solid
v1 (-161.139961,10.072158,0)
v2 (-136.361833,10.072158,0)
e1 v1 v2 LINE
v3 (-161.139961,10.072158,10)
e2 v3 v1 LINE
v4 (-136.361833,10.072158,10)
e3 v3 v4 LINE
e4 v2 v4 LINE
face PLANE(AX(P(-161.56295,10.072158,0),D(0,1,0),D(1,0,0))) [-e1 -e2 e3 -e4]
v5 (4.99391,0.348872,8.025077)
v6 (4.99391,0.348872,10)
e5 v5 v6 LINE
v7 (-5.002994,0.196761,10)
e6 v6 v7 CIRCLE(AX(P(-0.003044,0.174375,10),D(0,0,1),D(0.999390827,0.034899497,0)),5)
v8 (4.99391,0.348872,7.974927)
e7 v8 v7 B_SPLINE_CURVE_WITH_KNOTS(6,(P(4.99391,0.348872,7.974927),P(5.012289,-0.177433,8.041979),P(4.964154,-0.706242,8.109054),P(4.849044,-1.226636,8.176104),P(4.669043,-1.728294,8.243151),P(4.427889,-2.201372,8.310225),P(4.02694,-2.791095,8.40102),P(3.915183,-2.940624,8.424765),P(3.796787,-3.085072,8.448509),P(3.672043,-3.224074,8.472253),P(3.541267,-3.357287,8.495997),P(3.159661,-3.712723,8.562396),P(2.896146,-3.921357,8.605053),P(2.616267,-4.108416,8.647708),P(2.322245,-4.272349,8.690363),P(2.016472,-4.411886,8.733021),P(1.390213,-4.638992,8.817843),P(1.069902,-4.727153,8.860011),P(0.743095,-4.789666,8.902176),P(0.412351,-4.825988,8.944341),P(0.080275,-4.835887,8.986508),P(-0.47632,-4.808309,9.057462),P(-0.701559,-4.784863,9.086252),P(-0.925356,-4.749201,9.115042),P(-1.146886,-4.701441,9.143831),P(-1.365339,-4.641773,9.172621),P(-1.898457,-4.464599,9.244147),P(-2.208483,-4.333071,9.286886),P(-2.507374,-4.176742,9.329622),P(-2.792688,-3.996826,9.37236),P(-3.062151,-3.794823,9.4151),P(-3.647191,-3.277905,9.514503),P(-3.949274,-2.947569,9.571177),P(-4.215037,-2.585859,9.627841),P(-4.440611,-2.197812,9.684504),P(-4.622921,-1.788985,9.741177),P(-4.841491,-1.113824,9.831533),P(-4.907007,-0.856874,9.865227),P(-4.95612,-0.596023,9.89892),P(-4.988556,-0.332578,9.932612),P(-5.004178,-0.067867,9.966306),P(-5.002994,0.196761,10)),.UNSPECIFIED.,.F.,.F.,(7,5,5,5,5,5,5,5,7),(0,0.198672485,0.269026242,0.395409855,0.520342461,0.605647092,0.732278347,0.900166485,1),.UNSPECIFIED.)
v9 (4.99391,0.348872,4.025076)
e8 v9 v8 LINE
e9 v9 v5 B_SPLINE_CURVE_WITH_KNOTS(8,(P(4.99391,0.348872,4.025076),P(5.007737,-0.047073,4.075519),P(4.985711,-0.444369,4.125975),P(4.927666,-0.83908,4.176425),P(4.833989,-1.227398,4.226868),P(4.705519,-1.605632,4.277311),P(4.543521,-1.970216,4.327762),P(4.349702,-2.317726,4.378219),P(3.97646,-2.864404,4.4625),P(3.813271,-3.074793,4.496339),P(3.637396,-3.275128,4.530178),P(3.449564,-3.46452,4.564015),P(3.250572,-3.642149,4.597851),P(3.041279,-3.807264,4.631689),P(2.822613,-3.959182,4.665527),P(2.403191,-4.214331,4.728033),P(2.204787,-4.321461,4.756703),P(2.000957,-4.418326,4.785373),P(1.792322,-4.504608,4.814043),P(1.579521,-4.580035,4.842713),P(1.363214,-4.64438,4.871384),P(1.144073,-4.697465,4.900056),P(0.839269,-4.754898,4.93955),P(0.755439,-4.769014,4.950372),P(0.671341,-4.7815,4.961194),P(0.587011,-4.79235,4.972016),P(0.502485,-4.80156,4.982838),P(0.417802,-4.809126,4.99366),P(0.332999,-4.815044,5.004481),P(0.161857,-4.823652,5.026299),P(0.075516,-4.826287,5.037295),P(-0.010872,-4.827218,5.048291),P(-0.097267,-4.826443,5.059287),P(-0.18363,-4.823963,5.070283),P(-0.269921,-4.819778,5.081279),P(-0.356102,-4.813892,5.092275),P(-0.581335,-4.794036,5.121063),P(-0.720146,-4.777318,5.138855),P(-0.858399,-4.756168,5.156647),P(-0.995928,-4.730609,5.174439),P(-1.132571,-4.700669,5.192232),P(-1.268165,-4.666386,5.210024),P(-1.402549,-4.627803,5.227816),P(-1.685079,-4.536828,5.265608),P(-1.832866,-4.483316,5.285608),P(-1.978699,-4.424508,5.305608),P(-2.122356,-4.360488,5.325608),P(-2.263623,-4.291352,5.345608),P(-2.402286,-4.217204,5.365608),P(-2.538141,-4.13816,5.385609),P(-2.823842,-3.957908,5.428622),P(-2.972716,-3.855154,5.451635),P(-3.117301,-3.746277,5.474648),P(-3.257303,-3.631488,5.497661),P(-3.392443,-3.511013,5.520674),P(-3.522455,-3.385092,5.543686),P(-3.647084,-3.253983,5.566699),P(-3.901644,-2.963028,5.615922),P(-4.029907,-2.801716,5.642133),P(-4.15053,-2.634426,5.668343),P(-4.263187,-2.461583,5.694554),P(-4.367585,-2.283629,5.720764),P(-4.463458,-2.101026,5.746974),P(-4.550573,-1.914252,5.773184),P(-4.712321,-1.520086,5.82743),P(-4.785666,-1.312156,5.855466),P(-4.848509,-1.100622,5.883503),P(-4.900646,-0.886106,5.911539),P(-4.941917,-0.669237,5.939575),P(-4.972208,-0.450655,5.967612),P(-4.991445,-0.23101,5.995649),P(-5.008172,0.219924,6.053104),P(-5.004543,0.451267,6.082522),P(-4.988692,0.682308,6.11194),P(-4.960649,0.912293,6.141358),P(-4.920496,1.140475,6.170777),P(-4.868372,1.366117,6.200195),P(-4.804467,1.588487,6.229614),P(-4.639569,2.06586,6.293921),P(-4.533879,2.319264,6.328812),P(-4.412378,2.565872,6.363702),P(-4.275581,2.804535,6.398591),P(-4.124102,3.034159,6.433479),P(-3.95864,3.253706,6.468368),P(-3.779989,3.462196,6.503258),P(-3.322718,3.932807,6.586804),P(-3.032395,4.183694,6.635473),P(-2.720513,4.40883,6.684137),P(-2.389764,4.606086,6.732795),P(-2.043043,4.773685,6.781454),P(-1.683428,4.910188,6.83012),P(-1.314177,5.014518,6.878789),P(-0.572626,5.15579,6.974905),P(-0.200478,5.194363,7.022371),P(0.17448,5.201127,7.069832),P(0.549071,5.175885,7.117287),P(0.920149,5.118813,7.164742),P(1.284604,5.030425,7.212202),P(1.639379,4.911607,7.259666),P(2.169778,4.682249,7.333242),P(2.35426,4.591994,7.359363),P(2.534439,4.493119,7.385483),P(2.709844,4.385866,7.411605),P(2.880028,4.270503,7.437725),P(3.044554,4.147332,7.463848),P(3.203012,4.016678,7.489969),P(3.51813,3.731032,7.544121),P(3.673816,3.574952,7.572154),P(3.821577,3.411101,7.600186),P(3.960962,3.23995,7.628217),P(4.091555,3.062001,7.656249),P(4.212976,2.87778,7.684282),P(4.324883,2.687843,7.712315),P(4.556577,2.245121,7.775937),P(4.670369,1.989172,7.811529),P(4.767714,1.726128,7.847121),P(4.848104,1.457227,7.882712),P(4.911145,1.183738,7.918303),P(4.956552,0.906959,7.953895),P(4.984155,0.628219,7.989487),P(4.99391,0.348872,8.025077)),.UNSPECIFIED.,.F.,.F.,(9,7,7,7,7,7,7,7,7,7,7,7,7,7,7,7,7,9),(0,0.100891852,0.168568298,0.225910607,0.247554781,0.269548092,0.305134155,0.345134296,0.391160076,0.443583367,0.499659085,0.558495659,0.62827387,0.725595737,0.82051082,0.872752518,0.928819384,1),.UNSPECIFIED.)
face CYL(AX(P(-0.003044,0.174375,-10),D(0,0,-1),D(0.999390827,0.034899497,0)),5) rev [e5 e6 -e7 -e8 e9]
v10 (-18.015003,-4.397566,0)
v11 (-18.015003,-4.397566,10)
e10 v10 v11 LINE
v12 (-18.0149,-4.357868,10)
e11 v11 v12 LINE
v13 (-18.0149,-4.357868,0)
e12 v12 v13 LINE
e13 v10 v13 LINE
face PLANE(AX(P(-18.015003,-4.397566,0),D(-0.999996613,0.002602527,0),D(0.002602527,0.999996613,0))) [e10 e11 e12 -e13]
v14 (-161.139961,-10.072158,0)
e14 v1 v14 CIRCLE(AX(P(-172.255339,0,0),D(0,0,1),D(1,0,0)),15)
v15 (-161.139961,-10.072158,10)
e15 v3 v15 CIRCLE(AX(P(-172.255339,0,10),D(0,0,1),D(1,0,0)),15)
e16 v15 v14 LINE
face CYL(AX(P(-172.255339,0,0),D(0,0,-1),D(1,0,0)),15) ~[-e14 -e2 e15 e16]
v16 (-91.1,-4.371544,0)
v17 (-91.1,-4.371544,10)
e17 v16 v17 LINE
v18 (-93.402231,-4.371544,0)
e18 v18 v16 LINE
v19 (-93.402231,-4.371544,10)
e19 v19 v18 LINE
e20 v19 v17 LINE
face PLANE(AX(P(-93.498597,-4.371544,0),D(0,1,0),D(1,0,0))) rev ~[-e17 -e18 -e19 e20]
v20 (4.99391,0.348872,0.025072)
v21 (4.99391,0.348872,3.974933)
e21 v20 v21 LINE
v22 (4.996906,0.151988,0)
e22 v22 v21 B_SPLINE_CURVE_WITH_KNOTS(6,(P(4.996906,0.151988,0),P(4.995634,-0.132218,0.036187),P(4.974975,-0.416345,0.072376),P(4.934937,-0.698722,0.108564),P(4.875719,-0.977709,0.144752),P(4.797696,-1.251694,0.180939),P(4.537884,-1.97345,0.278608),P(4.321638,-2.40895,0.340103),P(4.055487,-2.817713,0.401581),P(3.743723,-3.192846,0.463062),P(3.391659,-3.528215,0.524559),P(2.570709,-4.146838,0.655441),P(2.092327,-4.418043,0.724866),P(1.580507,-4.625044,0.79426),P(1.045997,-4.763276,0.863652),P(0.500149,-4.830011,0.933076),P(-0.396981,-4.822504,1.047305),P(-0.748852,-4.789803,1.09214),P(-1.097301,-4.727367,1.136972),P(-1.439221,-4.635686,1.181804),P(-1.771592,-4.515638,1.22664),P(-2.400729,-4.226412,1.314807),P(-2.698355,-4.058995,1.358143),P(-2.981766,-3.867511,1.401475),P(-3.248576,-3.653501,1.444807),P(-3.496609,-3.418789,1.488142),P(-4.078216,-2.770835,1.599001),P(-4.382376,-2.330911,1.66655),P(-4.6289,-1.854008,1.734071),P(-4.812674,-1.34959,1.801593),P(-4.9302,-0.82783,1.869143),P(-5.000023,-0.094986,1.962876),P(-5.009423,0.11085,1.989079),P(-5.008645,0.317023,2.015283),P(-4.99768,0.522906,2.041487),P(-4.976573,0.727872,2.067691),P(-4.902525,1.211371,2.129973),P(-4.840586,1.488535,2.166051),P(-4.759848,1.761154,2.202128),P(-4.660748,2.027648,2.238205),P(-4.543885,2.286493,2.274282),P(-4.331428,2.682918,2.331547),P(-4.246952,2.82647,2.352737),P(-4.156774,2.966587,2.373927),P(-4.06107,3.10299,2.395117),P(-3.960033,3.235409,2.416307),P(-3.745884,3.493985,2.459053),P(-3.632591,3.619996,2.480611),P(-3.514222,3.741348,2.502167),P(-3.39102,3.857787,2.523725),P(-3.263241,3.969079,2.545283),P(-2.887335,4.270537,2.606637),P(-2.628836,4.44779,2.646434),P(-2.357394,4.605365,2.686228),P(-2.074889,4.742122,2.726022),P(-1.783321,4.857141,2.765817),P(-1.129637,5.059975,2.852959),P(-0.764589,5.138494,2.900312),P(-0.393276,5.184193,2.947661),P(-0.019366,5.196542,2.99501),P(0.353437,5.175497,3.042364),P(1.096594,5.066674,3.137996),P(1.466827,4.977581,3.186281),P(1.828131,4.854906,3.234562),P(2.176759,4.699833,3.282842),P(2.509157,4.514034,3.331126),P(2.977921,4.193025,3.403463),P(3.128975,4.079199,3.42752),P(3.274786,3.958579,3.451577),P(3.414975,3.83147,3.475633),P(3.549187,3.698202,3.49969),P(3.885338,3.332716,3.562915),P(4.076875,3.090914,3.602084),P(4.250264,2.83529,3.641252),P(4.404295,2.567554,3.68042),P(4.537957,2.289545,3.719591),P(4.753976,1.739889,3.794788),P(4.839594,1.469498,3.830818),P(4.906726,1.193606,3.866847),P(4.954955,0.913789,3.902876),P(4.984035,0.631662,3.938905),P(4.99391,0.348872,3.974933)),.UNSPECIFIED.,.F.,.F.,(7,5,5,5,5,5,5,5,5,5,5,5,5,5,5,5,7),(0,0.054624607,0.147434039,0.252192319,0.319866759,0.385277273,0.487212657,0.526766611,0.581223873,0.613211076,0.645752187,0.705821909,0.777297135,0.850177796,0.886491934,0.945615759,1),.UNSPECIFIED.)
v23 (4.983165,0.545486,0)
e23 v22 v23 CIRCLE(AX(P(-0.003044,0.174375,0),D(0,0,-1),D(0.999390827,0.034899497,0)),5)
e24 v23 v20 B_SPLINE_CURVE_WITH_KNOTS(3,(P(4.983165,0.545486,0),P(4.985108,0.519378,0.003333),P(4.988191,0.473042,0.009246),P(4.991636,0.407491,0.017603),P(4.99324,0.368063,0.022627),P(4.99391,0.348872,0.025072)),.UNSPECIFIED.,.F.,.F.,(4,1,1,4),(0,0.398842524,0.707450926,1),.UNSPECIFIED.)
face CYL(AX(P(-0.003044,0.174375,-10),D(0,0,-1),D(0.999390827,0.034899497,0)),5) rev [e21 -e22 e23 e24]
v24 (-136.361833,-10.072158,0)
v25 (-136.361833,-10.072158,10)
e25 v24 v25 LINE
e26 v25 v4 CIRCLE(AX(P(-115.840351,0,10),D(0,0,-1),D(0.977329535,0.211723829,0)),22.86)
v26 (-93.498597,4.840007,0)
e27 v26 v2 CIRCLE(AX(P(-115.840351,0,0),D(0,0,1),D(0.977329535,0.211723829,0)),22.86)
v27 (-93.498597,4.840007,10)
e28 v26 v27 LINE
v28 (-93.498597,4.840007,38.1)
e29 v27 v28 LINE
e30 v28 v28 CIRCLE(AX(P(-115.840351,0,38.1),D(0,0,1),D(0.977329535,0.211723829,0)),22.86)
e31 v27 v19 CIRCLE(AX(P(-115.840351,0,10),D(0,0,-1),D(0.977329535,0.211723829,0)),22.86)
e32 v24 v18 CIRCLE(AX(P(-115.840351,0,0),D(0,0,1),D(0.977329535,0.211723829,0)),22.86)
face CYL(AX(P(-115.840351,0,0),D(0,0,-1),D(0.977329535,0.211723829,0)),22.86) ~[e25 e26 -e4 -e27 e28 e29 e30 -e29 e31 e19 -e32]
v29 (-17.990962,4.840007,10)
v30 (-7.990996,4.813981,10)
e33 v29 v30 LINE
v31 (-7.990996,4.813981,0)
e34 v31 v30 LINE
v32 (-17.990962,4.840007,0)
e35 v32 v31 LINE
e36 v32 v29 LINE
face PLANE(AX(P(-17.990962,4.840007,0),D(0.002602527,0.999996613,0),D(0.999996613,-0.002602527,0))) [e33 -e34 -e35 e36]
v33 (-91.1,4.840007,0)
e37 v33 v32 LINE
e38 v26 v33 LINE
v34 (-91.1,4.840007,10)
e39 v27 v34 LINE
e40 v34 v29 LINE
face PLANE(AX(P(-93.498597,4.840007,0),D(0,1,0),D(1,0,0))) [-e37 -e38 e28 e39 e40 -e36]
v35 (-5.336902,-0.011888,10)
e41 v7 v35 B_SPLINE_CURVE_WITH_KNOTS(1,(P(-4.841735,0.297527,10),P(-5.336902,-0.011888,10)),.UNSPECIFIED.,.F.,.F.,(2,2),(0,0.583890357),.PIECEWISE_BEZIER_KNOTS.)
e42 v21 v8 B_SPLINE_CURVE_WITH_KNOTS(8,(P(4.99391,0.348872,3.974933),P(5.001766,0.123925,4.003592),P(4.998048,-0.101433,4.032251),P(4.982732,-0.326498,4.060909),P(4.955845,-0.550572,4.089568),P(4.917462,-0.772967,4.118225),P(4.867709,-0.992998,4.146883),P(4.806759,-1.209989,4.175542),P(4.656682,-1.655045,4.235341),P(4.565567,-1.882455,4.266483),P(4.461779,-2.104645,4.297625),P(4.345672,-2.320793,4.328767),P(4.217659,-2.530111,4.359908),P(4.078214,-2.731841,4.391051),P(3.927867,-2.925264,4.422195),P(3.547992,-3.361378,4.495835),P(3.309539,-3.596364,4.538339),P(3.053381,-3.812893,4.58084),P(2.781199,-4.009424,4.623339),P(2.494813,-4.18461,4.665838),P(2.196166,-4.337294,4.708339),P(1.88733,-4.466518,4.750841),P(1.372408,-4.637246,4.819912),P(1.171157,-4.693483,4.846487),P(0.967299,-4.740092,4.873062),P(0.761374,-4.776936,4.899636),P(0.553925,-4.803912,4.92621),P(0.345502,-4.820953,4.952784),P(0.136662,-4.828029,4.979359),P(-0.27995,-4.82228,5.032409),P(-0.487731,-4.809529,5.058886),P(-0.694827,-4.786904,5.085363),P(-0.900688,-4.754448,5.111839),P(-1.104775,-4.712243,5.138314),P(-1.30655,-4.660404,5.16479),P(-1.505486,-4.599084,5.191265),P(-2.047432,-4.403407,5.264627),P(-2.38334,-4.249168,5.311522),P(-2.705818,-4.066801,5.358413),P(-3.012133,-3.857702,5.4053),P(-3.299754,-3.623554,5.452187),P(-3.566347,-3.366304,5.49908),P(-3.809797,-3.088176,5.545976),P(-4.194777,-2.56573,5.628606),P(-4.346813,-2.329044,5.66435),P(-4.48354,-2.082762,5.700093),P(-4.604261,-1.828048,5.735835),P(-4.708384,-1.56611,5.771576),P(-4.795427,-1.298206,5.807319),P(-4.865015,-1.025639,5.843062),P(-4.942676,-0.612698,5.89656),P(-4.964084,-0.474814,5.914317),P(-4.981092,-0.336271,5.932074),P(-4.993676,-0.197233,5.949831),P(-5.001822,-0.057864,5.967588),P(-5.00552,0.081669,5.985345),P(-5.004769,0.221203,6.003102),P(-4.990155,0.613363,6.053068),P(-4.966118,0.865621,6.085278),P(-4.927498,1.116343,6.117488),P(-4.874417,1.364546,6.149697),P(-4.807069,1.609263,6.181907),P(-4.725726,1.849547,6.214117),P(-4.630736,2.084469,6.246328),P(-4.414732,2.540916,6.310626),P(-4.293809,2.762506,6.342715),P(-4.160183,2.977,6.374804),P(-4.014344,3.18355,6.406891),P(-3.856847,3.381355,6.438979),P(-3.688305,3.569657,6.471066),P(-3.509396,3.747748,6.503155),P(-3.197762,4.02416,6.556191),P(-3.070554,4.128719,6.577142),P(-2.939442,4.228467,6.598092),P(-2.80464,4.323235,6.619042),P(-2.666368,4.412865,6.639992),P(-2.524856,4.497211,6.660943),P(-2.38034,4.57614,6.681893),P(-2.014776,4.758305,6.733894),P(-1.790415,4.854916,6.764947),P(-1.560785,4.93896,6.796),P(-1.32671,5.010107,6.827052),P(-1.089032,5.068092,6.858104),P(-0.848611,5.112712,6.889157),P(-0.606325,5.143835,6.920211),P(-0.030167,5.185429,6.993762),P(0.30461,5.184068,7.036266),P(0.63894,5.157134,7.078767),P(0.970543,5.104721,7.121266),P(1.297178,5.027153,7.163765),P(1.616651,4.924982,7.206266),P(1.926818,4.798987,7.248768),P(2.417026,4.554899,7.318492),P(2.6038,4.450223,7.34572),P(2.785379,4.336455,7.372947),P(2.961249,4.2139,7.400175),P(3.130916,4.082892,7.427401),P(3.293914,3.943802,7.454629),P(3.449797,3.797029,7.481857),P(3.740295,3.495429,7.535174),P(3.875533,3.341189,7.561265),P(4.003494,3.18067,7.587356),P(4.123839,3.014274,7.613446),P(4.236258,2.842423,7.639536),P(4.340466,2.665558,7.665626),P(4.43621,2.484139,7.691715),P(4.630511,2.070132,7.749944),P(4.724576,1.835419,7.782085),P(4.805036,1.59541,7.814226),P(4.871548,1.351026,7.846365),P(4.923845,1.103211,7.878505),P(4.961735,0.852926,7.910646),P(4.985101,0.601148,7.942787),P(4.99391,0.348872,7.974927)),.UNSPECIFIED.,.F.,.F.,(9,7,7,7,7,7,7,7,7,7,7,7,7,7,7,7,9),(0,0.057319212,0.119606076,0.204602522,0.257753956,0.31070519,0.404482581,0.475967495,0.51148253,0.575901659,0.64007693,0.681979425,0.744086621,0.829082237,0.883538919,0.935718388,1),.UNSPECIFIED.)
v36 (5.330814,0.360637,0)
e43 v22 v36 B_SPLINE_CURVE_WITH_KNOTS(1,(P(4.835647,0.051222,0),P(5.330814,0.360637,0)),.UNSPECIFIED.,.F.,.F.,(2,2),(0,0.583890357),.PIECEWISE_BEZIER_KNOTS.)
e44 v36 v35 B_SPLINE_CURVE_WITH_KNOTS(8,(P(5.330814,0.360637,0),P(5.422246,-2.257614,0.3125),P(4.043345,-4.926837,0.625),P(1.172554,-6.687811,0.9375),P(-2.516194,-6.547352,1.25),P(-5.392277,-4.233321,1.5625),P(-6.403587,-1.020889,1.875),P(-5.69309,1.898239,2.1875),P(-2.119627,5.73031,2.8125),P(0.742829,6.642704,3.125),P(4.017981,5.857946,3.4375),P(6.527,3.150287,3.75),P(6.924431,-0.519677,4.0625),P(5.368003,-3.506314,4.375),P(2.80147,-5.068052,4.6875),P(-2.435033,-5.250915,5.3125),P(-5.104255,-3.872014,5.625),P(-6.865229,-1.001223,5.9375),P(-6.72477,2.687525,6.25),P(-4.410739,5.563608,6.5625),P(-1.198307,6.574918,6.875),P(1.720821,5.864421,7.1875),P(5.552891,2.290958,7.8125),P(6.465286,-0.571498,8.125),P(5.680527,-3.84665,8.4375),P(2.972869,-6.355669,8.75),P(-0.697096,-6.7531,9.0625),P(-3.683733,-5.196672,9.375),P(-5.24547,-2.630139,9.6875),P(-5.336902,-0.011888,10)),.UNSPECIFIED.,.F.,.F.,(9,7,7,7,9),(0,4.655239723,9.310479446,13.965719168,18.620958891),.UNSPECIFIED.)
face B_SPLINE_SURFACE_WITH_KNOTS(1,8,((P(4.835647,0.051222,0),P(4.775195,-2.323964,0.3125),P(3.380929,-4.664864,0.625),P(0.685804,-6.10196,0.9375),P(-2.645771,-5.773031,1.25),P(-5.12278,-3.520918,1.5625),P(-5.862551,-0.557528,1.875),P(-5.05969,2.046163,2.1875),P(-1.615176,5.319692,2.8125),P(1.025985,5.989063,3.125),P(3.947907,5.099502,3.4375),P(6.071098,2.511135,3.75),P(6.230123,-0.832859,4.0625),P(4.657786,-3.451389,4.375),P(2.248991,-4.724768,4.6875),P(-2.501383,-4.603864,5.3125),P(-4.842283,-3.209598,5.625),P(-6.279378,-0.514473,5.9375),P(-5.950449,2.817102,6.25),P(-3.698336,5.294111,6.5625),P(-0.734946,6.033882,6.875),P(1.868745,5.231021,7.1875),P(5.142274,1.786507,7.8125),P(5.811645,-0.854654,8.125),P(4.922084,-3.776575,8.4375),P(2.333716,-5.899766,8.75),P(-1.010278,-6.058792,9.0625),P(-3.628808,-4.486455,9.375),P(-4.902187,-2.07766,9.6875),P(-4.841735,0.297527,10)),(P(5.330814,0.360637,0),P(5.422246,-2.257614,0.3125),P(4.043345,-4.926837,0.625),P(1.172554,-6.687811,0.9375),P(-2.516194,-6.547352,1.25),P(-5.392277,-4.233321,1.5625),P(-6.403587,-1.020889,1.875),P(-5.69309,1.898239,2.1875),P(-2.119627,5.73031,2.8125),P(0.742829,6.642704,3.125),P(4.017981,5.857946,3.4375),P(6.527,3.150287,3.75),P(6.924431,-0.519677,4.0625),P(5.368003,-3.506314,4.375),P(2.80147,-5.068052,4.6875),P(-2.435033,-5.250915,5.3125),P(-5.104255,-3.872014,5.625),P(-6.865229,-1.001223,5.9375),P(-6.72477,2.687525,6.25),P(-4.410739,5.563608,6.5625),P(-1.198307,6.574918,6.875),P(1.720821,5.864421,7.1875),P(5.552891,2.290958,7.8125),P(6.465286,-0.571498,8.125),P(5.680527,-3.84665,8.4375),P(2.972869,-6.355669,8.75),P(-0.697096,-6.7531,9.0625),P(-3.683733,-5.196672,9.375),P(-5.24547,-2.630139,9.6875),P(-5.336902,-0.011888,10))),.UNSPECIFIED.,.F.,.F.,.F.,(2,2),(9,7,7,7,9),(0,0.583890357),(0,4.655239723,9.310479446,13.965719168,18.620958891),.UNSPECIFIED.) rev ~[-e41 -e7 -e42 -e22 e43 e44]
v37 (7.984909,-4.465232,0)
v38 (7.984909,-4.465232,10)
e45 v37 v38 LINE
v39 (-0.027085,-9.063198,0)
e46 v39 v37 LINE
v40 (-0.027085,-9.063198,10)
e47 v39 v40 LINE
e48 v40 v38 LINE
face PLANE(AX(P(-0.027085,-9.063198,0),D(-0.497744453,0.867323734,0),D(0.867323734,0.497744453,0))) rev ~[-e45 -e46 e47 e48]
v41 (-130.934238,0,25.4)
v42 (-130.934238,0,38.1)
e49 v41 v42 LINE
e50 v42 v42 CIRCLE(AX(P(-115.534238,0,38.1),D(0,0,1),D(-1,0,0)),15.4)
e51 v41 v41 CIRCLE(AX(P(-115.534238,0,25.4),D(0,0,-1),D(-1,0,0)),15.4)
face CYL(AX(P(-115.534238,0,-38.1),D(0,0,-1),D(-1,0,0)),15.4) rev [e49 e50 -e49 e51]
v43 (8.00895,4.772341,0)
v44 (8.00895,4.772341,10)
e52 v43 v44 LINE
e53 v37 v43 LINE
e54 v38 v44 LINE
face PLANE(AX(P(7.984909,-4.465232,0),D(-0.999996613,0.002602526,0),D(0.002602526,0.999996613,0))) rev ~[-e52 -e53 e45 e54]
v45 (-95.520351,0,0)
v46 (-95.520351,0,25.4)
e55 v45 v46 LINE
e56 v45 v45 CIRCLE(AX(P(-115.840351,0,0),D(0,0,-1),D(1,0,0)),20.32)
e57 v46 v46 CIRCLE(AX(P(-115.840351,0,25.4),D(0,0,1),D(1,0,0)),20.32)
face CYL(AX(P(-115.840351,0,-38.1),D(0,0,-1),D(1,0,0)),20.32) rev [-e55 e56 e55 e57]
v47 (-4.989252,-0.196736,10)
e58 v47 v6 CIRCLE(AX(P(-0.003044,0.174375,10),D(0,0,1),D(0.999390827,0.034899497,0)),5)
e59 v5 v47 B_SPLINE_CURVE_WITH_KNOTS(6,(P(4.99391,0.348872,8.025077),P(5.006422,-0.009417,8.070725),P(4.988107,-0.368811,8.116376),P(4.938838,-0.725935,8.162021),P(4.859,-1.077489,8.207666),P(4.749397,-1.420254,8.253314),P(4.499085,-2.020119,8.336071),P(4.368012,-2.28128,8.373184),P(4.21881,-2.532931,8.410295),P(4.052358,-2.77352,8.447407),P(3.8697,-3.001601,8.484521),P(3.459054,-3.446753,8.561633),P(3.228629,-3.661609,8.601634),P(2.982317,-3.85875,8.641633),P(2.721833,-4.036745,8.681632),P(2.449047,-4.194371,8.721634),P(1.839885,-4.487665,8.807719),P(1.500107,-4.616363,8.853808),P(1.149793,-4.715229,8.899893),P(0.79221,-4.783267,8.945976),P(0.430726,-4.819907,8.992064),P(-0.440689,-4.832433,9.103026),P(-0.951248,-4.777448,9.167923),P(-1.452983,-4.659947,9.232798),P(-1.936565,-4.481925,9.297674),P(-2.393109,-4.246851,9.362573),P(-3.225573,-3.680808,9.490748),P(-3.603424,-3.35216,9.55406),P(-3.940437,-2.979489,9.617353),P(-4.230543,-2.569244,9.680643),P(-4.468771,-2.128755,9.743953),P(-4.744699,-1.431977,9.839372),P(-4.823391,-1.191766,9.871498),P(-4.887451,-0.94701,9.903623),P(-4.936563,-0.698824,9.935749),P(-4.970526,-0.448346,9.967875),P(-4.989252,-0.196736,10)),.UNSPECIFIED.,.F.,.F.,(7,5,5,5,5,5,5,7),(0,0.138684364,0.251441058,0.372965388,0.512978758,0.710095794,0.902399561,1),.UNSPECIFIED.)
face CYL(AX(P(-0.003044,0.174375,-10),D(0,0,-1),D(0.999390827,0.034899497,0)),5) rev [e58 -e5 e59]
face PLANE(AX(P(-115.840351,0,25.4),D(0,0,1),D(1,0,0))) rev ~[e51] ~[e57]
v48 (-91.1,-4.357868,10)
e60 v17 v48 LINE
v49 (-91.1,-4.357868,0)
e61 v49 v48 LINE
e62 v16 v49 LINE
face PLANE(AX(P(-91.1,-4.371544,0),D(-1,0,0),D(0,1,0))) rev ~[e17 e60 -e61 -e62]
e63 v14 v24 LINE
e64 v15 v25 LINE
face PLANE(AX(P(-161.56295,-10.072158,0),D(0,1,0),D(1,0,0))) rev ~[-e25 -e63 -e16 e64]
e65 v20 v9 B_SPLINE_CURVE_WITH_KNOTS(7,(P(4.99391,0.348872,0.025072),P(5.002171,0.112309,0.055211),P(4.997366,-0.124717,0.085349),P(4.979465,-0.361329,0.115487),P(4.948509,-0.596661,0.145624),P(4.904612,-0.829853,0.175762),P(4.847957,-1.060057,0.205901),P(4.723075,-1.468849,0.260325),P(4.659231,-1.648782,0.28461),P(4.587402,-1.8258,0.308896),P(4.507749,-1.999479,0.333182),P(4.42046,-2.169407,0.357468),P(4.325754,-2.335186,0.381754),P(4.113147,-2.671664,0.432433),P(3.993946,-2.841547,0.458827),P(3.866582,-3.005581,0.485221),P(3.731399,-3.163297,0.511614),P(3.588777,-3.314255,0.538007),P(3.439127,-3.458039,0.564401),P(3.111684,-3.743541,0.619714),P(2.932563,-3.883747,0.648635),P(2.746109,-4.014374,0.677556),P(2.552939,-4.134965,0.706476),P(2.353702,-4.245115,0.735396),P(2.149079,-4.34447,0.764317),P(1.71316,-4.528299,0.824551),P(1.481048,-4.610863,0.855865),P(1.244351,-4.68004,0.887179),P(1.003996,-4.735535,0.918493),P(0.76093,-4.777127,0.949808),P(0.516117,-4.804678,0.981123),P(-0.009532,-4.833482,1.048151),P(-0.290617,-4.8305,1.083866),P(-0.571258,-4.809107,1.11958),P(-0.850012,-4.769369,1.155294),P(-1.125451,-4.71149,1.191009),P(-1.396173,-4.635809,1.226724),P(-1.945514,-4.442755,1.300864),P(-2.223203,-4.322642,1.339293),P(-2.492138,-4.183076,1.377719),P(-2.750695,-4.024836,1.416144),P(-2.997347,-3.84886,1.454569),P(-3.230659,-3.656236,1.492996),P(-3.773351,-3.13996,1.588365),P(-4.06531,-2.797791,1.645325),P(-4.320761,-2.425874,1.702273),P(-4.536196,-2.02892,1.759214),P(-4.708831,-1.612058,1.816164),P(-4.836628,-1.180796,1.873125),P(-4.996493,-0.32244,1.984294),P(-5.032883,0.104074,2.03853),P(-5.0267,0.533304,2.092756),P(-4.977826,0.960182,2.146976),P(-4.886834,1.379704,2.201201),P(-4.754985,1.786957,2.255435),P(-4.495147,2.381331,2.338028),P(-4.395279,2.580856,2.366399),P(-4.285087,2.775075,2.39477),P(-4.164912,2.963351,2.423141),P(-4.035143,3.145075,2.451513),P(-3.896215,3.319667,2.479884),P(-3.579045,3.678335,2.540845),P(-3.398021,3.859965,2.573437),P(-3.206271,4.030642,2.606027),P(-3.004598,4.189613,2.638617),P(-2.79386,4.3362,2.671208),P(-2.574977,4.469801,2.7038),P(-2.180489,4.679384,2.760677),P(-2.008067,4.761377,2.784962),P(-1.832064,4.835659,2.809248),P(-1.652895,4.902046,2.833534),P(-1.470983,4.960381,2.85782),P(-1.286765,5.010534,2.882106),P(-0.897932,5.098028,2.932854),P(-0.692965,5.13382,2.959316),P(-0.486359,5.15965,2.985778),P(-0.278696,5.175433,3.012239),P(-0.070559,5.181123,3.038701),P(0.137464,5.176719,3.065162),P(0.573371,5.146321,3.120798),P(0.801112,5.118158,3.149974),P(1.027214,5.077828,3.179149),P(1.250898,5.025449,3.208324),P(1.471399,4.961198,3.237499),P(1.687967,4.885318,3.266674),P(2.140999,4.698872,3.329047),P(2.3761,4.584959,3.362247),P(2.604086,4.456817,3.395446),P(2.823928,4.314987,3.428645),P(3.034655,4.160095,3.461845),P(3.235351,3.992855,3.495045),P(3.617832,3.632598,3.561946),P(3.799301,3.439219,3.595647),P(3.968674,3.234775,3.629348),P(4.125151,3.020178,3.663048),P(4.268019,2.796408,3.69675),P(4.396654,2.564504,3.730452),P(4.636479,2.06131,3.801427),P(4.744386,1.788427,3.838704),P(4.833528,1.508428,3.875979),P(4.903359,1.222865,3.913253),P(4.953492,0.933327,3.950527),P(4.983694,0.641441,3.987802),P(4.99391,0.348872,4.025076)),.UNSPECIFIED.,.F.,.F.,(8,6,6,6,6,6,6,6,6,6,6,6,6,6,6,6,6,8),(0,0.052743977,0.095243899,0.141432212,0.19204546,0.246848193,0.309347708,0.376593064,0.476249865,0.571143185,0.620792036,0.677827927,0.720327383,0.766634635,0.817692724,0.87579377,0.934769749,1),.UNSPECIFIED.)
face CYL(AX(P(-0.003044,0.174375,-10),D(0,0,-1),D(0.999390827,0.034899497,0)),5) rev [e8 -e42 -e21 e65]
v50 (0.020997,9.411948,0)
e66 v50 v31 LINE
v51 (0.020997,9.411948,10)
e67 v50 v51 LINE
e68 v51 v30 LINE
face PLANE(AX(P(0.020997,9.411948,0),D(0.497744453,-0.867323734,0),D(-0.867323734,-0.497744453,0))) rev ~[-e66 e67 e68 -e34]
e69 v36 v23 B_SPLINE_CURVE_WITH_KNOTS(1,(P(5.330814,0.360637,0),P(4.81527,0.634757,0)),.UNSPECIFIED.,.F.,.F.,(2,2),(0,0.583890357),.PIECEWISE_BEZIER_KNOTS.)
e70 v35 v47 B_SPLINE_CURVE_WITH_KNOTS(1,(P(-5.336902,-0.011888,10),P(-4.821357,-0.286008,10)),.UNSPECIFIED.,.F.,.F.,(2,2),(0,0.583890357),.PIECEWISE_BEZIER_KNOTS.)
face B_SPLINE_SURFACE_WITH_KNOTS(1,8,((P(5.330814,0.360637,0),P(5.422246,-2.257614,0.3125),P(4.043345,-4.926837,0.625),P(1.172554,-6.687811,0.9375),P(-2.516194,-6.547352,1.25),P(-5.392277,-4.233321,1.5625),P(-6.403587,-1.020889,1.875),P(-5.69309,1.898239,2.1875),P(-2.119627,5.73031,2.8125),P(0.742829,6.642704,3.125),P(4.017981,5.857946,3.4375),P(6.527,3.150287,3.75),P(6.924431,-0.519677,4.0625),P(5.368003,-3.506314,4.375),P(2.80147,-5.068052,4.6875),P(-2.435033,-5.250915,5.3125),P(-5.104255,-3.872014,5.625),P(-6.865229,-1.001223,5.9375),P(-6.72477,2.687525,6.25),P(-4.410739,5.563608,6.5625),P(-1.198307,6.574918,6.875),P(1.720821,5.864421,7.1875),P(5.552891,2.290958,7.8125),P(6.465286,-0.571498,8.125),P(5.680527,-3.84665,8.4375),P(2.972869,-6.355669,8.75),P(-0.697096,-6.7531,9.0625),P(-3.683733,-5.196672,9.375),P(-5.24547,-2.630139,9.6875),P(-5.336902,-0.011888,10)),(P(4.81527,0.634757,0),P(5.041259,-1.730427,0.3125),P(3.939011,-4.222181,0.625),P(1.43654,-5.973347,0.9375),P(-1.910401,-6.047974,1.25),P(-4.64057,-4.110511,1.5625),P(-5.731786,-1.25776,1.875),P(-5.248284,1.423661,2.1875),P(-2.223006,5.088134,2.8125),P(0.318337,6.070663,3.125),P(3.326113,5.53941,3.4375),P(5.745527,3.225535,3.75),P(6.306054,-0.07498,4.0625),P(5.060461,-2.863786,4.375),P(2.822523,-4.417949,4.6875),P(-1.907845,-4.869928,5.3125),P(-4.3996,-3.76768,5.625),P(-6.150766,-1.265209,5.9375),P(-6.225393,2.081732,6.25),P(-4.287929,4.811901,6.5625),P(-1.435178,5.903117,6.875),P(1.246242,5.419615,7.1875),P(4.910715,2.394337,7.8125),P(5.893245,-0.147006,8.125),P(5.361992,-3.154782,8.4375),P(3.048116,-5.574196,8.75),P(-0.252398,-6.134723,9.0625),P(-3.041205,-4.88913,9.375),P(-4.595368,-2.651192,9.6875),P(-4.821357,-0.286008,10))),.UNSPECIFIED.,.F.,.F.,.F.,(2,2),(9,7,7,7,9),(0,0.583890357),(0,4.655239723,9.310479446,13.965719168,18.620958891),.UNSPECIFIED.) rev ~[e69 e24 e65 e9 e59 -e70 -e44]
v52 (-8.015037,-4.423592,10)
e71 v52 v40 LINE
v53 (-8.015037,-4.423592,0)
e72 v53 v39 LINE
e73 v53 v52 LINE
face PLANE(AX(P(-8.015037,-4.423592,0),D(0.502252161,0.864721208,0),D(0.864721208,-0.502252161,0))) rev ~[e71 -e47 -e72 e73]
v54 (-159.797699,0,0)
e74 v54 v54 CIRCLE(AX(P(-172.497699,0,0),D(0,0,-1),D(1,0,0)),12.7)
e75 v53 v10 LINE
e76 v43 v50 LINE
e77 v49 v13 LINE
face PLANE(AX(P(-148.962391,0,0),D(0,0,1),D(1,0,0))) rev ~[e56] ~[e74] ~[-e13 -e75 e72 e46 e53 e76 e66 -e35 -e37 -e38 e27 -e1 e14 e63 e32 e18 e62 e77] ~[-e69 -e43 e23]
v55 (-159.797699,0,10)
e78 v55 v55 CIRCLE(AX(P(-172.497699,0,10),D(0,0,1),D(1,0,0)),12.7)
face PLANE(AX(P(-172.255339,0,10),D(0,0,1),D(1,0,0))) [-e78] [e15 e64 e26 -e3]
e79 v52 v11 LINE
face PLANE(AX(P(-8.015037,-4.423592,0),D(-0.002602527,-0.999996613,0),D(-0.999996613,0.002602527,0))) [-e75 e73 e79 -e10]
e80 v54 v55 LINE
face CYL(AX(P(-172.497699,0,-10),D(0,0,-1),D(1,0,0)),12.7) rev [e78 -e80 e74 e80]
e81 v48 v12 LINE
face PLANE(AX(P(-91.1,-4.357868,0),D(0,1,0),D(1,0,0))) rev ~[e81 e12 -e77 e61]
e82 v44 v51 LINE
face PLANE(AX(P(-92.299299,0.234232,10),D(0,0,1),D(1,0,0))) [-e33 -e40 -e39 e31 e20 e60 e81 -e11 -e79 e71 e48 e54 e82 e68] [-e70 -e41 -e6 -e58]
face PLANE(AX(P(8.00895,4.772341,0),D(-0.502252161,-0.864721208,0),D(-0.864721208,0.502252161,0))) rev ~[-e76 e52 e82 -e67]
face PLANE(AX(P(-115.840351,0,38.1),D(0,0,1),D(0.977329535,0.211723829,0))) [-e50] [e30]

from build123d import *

# Parameters (mm, degrees)
BOSS_EXTRUDE1_DEPTH     = 10
CUT_EXTRUDE1_DEPTH      = 10
CUT_EXTRUDE1_DEPTH_BACK = 10
SKETCH2_R               = 5
CUT_SWEEP1_PITCH        = 4
CUT_SWEEP1_HEIGHT       = 10
CUT_SWEEP1_RADIUS       = 5
EXTRUDE_THIN2_DEPTH     = 10
BODY_MOVE_COPY1_ANGLE   = 2
SKETCH10_W              = 73.109037791
SKETCH10_H              = 9.197874715
BOSS_EXTRUDE2_DEPTH     = 10
SKETCH14_W              = 2.398597497
SKETCH14_H              = 9.211550244
BOSS_EXTRUDE7_DEPTH     = 10
SKETCH14_3_R            = 22.86
BOSS_EXTRUDE8_DEPTH     = 38.1
CUT_EXTRUDE2_DEPTH      = 25.4
CUT_EXTRUDE2_DEPTH_BACK = 38.1
SKETCH15_R              = 20.32
CUT_EXTRUDE3_DEPTH      = 38.1
CUT_EXTRUDE3_DEPTH_BACK = 38.1
SKETCH16_R              = 15.4
SKETCH17_W              = 25.201116709
SKETCH17_H              = 20.14431591
BOSS_EXTRUDE9_DEPTH     = 10
SKETCH19_R              = 15
BOSS_EXTRUDE10_DEPTH    = 10
CUT_EXTRUDE4_DEPTH      = 10
CUT_EXTRUDE4_DEPTH_BACK = 10
SKETCH20_R              = 12.7


with BuildPart() as part:
    # Sketch1 → Boss-Extrude1 (new body)
    with BuildSketch(Plane.XY):
        Polygon((-8.167579482, -4.315550803), (-0.346413115, -9.231106721), (7.821166368, -4.915555918), (8.167579482, 4.315550803), (0.346413115, 9.231106721), (-7.821166368, 4.915555918), align=None)
    extrude(amount=BOSS_EXTRUDE1_DEPTH)

    # Sketch2 → Cut-Extrude1 (cut, two sides: drawn at the far end of the back side and taken through both)
    with BuildSketch(Plane.XY.offset(-CUT_EXTRUDE1_DEPTH_BACK)):
        Circle(SKETCH2_R)
    extrude(amount=CUT_EXTRUDE1_DEPTH + CUT_EXTRUDE1_DEPTH_BACK, mode=Mode.SUBTRACT)

    # Cut-Sweep1: sweep along a helix
    with BuildLine() as cut_sweep1_path:
        Helix(CUT_SWEEP1_PITCH, CUT_SWEEP1_HEIGHT, CUT_SWEEP1_RADIUS, center=(0, 0, 0), direction=(0, 0, 1), lefthand=True)
    # Sketch4 → Cut-Sweep1 (sweep, cut)
    with BuildSketch(Plane.XY):
        Polygon((5.337109255, 0), (4.831445373, 0.291945178), (4.831445373, -0.291945178), align=None)
    sweep(path=cut_sweep1_path.line, is_frenet=True, mode=Mode.SUBTRACT)

    # Sketch6 → Extrude-Thin2 (add)
    with BuildSketch(Plane.XY):
        Polygon((-7.821166368, 4.915555918), (-8.167579482, -4.315550803), (-18.160545639, -3.940547606), (-17.814132524, 5.290559115), align=None)
    extrude(amount=EXTRUDE_THIN2_DEPTH)


with BuildPart() as part_1:
    # Body-Move/Copy1: moved
    add(part.part.rotate(Axis((-4.996483078, 0, 0), (0, 0, 1)), BODY_MOVE_COPY1_ANGLE))

    # Sketch10 → Boss-Extrude2 (add)
    with BuildSketch(Plane.XY):
        with Locations((-54.545481105, 0.241069377)):
            Rectangle(SKETCH10_W, SKETCH10_H)
    extrude(amount=BOSS_EXTRUDE2_DEPTH)

    # Sketch14 → Boss-Extrude7 (add)
    with BuildSketch(Plane.XY):
        with Locations((-92.299298749, 0.234231612)):
            Rectangle(SKETCH14_W, SKETCH14_H)
    extrude(amount=BOSS_EXTRUDE7_DEPTH)

    # Sketch14<3> → Boss-Extrude8 (add)
    with BuildSketch(Plane.XY):
        with Locations(Location((-115.84035067, 0, 0), (0, 0, 12.223392191))):
            Circle(SKETCH14_3_R)
    extrude(amount=BOSS_EXTRUDE8_DEPTH)

    # Sketch15 → Cut-Extrude2 (cut, two sides: drawn at the far end of the back side and taken through both)
    with BuildSketch(Plane.XY.offset(-CUT_EXTRUDE2_DEPTH_BACK)):
        with Locations((-115.84035067, 0)):
            Circle(SKETCH15_R)
    extrude(amount=CUT_EXTRUDE2_DEPTH + CUT_EXTRUDE2_DEPTH_BACK, mode=Mode.SUBTRACT)

    # Sketch16 → Cut-Extrude3 (cut, two sides: drawn at the far end of the back side and taken through both)
    with BuildSketch(Plane.XY.offset(-CUT_EXTRUDE3_DEPTH_BACK)):
        with Locations(Location((-115.534237584, 0, 0), (0, 0, 180))):
            Circle(SKETCH16_R)
    extrude(amount=CUT_EXTRUDE3_DEPTH + CUT_EXTRUDE3_DEPTH_BACK, mode=Mode.SUBTRACT)

    # Sketch17 → Boss-Extrude9 (add)
    with BuildSketch(Plane.XY):
        with Locations((-148.962391284, 0)):
            Rectangle(SKETCH17_W, SKETCH17_H)
    extrude(amount=BOSS_EXTRUDE9_DEPTH)

    # Sketch19 → Boss-Extrude10 (add)
    with BuildSketch(Plane.XY):
        with Locations((-172.255338782, 0)):
            Circle(SKETCH19_R)
    extrude(amount=BOSS_EXTRUDE10_DEPTH)

    # Sketch20 → Cut-Extrude4 (cut, two sides: drawn at the far end of the back side and taken through both)
    with BuildSketch(Plane.XY.offset(-CUT_EXTRUDE4_DEPTH_BACK)):
        with Locations((-172.49769937, 0)):
            Circle(SKETCH20_R)
    extrude(amount=CUT_EXTRUDE4_DEPTH + CUT_EXTRUDE4_DEPTH_BACK, mode=Mode.SUBTRACT)


solid = part_1.part
